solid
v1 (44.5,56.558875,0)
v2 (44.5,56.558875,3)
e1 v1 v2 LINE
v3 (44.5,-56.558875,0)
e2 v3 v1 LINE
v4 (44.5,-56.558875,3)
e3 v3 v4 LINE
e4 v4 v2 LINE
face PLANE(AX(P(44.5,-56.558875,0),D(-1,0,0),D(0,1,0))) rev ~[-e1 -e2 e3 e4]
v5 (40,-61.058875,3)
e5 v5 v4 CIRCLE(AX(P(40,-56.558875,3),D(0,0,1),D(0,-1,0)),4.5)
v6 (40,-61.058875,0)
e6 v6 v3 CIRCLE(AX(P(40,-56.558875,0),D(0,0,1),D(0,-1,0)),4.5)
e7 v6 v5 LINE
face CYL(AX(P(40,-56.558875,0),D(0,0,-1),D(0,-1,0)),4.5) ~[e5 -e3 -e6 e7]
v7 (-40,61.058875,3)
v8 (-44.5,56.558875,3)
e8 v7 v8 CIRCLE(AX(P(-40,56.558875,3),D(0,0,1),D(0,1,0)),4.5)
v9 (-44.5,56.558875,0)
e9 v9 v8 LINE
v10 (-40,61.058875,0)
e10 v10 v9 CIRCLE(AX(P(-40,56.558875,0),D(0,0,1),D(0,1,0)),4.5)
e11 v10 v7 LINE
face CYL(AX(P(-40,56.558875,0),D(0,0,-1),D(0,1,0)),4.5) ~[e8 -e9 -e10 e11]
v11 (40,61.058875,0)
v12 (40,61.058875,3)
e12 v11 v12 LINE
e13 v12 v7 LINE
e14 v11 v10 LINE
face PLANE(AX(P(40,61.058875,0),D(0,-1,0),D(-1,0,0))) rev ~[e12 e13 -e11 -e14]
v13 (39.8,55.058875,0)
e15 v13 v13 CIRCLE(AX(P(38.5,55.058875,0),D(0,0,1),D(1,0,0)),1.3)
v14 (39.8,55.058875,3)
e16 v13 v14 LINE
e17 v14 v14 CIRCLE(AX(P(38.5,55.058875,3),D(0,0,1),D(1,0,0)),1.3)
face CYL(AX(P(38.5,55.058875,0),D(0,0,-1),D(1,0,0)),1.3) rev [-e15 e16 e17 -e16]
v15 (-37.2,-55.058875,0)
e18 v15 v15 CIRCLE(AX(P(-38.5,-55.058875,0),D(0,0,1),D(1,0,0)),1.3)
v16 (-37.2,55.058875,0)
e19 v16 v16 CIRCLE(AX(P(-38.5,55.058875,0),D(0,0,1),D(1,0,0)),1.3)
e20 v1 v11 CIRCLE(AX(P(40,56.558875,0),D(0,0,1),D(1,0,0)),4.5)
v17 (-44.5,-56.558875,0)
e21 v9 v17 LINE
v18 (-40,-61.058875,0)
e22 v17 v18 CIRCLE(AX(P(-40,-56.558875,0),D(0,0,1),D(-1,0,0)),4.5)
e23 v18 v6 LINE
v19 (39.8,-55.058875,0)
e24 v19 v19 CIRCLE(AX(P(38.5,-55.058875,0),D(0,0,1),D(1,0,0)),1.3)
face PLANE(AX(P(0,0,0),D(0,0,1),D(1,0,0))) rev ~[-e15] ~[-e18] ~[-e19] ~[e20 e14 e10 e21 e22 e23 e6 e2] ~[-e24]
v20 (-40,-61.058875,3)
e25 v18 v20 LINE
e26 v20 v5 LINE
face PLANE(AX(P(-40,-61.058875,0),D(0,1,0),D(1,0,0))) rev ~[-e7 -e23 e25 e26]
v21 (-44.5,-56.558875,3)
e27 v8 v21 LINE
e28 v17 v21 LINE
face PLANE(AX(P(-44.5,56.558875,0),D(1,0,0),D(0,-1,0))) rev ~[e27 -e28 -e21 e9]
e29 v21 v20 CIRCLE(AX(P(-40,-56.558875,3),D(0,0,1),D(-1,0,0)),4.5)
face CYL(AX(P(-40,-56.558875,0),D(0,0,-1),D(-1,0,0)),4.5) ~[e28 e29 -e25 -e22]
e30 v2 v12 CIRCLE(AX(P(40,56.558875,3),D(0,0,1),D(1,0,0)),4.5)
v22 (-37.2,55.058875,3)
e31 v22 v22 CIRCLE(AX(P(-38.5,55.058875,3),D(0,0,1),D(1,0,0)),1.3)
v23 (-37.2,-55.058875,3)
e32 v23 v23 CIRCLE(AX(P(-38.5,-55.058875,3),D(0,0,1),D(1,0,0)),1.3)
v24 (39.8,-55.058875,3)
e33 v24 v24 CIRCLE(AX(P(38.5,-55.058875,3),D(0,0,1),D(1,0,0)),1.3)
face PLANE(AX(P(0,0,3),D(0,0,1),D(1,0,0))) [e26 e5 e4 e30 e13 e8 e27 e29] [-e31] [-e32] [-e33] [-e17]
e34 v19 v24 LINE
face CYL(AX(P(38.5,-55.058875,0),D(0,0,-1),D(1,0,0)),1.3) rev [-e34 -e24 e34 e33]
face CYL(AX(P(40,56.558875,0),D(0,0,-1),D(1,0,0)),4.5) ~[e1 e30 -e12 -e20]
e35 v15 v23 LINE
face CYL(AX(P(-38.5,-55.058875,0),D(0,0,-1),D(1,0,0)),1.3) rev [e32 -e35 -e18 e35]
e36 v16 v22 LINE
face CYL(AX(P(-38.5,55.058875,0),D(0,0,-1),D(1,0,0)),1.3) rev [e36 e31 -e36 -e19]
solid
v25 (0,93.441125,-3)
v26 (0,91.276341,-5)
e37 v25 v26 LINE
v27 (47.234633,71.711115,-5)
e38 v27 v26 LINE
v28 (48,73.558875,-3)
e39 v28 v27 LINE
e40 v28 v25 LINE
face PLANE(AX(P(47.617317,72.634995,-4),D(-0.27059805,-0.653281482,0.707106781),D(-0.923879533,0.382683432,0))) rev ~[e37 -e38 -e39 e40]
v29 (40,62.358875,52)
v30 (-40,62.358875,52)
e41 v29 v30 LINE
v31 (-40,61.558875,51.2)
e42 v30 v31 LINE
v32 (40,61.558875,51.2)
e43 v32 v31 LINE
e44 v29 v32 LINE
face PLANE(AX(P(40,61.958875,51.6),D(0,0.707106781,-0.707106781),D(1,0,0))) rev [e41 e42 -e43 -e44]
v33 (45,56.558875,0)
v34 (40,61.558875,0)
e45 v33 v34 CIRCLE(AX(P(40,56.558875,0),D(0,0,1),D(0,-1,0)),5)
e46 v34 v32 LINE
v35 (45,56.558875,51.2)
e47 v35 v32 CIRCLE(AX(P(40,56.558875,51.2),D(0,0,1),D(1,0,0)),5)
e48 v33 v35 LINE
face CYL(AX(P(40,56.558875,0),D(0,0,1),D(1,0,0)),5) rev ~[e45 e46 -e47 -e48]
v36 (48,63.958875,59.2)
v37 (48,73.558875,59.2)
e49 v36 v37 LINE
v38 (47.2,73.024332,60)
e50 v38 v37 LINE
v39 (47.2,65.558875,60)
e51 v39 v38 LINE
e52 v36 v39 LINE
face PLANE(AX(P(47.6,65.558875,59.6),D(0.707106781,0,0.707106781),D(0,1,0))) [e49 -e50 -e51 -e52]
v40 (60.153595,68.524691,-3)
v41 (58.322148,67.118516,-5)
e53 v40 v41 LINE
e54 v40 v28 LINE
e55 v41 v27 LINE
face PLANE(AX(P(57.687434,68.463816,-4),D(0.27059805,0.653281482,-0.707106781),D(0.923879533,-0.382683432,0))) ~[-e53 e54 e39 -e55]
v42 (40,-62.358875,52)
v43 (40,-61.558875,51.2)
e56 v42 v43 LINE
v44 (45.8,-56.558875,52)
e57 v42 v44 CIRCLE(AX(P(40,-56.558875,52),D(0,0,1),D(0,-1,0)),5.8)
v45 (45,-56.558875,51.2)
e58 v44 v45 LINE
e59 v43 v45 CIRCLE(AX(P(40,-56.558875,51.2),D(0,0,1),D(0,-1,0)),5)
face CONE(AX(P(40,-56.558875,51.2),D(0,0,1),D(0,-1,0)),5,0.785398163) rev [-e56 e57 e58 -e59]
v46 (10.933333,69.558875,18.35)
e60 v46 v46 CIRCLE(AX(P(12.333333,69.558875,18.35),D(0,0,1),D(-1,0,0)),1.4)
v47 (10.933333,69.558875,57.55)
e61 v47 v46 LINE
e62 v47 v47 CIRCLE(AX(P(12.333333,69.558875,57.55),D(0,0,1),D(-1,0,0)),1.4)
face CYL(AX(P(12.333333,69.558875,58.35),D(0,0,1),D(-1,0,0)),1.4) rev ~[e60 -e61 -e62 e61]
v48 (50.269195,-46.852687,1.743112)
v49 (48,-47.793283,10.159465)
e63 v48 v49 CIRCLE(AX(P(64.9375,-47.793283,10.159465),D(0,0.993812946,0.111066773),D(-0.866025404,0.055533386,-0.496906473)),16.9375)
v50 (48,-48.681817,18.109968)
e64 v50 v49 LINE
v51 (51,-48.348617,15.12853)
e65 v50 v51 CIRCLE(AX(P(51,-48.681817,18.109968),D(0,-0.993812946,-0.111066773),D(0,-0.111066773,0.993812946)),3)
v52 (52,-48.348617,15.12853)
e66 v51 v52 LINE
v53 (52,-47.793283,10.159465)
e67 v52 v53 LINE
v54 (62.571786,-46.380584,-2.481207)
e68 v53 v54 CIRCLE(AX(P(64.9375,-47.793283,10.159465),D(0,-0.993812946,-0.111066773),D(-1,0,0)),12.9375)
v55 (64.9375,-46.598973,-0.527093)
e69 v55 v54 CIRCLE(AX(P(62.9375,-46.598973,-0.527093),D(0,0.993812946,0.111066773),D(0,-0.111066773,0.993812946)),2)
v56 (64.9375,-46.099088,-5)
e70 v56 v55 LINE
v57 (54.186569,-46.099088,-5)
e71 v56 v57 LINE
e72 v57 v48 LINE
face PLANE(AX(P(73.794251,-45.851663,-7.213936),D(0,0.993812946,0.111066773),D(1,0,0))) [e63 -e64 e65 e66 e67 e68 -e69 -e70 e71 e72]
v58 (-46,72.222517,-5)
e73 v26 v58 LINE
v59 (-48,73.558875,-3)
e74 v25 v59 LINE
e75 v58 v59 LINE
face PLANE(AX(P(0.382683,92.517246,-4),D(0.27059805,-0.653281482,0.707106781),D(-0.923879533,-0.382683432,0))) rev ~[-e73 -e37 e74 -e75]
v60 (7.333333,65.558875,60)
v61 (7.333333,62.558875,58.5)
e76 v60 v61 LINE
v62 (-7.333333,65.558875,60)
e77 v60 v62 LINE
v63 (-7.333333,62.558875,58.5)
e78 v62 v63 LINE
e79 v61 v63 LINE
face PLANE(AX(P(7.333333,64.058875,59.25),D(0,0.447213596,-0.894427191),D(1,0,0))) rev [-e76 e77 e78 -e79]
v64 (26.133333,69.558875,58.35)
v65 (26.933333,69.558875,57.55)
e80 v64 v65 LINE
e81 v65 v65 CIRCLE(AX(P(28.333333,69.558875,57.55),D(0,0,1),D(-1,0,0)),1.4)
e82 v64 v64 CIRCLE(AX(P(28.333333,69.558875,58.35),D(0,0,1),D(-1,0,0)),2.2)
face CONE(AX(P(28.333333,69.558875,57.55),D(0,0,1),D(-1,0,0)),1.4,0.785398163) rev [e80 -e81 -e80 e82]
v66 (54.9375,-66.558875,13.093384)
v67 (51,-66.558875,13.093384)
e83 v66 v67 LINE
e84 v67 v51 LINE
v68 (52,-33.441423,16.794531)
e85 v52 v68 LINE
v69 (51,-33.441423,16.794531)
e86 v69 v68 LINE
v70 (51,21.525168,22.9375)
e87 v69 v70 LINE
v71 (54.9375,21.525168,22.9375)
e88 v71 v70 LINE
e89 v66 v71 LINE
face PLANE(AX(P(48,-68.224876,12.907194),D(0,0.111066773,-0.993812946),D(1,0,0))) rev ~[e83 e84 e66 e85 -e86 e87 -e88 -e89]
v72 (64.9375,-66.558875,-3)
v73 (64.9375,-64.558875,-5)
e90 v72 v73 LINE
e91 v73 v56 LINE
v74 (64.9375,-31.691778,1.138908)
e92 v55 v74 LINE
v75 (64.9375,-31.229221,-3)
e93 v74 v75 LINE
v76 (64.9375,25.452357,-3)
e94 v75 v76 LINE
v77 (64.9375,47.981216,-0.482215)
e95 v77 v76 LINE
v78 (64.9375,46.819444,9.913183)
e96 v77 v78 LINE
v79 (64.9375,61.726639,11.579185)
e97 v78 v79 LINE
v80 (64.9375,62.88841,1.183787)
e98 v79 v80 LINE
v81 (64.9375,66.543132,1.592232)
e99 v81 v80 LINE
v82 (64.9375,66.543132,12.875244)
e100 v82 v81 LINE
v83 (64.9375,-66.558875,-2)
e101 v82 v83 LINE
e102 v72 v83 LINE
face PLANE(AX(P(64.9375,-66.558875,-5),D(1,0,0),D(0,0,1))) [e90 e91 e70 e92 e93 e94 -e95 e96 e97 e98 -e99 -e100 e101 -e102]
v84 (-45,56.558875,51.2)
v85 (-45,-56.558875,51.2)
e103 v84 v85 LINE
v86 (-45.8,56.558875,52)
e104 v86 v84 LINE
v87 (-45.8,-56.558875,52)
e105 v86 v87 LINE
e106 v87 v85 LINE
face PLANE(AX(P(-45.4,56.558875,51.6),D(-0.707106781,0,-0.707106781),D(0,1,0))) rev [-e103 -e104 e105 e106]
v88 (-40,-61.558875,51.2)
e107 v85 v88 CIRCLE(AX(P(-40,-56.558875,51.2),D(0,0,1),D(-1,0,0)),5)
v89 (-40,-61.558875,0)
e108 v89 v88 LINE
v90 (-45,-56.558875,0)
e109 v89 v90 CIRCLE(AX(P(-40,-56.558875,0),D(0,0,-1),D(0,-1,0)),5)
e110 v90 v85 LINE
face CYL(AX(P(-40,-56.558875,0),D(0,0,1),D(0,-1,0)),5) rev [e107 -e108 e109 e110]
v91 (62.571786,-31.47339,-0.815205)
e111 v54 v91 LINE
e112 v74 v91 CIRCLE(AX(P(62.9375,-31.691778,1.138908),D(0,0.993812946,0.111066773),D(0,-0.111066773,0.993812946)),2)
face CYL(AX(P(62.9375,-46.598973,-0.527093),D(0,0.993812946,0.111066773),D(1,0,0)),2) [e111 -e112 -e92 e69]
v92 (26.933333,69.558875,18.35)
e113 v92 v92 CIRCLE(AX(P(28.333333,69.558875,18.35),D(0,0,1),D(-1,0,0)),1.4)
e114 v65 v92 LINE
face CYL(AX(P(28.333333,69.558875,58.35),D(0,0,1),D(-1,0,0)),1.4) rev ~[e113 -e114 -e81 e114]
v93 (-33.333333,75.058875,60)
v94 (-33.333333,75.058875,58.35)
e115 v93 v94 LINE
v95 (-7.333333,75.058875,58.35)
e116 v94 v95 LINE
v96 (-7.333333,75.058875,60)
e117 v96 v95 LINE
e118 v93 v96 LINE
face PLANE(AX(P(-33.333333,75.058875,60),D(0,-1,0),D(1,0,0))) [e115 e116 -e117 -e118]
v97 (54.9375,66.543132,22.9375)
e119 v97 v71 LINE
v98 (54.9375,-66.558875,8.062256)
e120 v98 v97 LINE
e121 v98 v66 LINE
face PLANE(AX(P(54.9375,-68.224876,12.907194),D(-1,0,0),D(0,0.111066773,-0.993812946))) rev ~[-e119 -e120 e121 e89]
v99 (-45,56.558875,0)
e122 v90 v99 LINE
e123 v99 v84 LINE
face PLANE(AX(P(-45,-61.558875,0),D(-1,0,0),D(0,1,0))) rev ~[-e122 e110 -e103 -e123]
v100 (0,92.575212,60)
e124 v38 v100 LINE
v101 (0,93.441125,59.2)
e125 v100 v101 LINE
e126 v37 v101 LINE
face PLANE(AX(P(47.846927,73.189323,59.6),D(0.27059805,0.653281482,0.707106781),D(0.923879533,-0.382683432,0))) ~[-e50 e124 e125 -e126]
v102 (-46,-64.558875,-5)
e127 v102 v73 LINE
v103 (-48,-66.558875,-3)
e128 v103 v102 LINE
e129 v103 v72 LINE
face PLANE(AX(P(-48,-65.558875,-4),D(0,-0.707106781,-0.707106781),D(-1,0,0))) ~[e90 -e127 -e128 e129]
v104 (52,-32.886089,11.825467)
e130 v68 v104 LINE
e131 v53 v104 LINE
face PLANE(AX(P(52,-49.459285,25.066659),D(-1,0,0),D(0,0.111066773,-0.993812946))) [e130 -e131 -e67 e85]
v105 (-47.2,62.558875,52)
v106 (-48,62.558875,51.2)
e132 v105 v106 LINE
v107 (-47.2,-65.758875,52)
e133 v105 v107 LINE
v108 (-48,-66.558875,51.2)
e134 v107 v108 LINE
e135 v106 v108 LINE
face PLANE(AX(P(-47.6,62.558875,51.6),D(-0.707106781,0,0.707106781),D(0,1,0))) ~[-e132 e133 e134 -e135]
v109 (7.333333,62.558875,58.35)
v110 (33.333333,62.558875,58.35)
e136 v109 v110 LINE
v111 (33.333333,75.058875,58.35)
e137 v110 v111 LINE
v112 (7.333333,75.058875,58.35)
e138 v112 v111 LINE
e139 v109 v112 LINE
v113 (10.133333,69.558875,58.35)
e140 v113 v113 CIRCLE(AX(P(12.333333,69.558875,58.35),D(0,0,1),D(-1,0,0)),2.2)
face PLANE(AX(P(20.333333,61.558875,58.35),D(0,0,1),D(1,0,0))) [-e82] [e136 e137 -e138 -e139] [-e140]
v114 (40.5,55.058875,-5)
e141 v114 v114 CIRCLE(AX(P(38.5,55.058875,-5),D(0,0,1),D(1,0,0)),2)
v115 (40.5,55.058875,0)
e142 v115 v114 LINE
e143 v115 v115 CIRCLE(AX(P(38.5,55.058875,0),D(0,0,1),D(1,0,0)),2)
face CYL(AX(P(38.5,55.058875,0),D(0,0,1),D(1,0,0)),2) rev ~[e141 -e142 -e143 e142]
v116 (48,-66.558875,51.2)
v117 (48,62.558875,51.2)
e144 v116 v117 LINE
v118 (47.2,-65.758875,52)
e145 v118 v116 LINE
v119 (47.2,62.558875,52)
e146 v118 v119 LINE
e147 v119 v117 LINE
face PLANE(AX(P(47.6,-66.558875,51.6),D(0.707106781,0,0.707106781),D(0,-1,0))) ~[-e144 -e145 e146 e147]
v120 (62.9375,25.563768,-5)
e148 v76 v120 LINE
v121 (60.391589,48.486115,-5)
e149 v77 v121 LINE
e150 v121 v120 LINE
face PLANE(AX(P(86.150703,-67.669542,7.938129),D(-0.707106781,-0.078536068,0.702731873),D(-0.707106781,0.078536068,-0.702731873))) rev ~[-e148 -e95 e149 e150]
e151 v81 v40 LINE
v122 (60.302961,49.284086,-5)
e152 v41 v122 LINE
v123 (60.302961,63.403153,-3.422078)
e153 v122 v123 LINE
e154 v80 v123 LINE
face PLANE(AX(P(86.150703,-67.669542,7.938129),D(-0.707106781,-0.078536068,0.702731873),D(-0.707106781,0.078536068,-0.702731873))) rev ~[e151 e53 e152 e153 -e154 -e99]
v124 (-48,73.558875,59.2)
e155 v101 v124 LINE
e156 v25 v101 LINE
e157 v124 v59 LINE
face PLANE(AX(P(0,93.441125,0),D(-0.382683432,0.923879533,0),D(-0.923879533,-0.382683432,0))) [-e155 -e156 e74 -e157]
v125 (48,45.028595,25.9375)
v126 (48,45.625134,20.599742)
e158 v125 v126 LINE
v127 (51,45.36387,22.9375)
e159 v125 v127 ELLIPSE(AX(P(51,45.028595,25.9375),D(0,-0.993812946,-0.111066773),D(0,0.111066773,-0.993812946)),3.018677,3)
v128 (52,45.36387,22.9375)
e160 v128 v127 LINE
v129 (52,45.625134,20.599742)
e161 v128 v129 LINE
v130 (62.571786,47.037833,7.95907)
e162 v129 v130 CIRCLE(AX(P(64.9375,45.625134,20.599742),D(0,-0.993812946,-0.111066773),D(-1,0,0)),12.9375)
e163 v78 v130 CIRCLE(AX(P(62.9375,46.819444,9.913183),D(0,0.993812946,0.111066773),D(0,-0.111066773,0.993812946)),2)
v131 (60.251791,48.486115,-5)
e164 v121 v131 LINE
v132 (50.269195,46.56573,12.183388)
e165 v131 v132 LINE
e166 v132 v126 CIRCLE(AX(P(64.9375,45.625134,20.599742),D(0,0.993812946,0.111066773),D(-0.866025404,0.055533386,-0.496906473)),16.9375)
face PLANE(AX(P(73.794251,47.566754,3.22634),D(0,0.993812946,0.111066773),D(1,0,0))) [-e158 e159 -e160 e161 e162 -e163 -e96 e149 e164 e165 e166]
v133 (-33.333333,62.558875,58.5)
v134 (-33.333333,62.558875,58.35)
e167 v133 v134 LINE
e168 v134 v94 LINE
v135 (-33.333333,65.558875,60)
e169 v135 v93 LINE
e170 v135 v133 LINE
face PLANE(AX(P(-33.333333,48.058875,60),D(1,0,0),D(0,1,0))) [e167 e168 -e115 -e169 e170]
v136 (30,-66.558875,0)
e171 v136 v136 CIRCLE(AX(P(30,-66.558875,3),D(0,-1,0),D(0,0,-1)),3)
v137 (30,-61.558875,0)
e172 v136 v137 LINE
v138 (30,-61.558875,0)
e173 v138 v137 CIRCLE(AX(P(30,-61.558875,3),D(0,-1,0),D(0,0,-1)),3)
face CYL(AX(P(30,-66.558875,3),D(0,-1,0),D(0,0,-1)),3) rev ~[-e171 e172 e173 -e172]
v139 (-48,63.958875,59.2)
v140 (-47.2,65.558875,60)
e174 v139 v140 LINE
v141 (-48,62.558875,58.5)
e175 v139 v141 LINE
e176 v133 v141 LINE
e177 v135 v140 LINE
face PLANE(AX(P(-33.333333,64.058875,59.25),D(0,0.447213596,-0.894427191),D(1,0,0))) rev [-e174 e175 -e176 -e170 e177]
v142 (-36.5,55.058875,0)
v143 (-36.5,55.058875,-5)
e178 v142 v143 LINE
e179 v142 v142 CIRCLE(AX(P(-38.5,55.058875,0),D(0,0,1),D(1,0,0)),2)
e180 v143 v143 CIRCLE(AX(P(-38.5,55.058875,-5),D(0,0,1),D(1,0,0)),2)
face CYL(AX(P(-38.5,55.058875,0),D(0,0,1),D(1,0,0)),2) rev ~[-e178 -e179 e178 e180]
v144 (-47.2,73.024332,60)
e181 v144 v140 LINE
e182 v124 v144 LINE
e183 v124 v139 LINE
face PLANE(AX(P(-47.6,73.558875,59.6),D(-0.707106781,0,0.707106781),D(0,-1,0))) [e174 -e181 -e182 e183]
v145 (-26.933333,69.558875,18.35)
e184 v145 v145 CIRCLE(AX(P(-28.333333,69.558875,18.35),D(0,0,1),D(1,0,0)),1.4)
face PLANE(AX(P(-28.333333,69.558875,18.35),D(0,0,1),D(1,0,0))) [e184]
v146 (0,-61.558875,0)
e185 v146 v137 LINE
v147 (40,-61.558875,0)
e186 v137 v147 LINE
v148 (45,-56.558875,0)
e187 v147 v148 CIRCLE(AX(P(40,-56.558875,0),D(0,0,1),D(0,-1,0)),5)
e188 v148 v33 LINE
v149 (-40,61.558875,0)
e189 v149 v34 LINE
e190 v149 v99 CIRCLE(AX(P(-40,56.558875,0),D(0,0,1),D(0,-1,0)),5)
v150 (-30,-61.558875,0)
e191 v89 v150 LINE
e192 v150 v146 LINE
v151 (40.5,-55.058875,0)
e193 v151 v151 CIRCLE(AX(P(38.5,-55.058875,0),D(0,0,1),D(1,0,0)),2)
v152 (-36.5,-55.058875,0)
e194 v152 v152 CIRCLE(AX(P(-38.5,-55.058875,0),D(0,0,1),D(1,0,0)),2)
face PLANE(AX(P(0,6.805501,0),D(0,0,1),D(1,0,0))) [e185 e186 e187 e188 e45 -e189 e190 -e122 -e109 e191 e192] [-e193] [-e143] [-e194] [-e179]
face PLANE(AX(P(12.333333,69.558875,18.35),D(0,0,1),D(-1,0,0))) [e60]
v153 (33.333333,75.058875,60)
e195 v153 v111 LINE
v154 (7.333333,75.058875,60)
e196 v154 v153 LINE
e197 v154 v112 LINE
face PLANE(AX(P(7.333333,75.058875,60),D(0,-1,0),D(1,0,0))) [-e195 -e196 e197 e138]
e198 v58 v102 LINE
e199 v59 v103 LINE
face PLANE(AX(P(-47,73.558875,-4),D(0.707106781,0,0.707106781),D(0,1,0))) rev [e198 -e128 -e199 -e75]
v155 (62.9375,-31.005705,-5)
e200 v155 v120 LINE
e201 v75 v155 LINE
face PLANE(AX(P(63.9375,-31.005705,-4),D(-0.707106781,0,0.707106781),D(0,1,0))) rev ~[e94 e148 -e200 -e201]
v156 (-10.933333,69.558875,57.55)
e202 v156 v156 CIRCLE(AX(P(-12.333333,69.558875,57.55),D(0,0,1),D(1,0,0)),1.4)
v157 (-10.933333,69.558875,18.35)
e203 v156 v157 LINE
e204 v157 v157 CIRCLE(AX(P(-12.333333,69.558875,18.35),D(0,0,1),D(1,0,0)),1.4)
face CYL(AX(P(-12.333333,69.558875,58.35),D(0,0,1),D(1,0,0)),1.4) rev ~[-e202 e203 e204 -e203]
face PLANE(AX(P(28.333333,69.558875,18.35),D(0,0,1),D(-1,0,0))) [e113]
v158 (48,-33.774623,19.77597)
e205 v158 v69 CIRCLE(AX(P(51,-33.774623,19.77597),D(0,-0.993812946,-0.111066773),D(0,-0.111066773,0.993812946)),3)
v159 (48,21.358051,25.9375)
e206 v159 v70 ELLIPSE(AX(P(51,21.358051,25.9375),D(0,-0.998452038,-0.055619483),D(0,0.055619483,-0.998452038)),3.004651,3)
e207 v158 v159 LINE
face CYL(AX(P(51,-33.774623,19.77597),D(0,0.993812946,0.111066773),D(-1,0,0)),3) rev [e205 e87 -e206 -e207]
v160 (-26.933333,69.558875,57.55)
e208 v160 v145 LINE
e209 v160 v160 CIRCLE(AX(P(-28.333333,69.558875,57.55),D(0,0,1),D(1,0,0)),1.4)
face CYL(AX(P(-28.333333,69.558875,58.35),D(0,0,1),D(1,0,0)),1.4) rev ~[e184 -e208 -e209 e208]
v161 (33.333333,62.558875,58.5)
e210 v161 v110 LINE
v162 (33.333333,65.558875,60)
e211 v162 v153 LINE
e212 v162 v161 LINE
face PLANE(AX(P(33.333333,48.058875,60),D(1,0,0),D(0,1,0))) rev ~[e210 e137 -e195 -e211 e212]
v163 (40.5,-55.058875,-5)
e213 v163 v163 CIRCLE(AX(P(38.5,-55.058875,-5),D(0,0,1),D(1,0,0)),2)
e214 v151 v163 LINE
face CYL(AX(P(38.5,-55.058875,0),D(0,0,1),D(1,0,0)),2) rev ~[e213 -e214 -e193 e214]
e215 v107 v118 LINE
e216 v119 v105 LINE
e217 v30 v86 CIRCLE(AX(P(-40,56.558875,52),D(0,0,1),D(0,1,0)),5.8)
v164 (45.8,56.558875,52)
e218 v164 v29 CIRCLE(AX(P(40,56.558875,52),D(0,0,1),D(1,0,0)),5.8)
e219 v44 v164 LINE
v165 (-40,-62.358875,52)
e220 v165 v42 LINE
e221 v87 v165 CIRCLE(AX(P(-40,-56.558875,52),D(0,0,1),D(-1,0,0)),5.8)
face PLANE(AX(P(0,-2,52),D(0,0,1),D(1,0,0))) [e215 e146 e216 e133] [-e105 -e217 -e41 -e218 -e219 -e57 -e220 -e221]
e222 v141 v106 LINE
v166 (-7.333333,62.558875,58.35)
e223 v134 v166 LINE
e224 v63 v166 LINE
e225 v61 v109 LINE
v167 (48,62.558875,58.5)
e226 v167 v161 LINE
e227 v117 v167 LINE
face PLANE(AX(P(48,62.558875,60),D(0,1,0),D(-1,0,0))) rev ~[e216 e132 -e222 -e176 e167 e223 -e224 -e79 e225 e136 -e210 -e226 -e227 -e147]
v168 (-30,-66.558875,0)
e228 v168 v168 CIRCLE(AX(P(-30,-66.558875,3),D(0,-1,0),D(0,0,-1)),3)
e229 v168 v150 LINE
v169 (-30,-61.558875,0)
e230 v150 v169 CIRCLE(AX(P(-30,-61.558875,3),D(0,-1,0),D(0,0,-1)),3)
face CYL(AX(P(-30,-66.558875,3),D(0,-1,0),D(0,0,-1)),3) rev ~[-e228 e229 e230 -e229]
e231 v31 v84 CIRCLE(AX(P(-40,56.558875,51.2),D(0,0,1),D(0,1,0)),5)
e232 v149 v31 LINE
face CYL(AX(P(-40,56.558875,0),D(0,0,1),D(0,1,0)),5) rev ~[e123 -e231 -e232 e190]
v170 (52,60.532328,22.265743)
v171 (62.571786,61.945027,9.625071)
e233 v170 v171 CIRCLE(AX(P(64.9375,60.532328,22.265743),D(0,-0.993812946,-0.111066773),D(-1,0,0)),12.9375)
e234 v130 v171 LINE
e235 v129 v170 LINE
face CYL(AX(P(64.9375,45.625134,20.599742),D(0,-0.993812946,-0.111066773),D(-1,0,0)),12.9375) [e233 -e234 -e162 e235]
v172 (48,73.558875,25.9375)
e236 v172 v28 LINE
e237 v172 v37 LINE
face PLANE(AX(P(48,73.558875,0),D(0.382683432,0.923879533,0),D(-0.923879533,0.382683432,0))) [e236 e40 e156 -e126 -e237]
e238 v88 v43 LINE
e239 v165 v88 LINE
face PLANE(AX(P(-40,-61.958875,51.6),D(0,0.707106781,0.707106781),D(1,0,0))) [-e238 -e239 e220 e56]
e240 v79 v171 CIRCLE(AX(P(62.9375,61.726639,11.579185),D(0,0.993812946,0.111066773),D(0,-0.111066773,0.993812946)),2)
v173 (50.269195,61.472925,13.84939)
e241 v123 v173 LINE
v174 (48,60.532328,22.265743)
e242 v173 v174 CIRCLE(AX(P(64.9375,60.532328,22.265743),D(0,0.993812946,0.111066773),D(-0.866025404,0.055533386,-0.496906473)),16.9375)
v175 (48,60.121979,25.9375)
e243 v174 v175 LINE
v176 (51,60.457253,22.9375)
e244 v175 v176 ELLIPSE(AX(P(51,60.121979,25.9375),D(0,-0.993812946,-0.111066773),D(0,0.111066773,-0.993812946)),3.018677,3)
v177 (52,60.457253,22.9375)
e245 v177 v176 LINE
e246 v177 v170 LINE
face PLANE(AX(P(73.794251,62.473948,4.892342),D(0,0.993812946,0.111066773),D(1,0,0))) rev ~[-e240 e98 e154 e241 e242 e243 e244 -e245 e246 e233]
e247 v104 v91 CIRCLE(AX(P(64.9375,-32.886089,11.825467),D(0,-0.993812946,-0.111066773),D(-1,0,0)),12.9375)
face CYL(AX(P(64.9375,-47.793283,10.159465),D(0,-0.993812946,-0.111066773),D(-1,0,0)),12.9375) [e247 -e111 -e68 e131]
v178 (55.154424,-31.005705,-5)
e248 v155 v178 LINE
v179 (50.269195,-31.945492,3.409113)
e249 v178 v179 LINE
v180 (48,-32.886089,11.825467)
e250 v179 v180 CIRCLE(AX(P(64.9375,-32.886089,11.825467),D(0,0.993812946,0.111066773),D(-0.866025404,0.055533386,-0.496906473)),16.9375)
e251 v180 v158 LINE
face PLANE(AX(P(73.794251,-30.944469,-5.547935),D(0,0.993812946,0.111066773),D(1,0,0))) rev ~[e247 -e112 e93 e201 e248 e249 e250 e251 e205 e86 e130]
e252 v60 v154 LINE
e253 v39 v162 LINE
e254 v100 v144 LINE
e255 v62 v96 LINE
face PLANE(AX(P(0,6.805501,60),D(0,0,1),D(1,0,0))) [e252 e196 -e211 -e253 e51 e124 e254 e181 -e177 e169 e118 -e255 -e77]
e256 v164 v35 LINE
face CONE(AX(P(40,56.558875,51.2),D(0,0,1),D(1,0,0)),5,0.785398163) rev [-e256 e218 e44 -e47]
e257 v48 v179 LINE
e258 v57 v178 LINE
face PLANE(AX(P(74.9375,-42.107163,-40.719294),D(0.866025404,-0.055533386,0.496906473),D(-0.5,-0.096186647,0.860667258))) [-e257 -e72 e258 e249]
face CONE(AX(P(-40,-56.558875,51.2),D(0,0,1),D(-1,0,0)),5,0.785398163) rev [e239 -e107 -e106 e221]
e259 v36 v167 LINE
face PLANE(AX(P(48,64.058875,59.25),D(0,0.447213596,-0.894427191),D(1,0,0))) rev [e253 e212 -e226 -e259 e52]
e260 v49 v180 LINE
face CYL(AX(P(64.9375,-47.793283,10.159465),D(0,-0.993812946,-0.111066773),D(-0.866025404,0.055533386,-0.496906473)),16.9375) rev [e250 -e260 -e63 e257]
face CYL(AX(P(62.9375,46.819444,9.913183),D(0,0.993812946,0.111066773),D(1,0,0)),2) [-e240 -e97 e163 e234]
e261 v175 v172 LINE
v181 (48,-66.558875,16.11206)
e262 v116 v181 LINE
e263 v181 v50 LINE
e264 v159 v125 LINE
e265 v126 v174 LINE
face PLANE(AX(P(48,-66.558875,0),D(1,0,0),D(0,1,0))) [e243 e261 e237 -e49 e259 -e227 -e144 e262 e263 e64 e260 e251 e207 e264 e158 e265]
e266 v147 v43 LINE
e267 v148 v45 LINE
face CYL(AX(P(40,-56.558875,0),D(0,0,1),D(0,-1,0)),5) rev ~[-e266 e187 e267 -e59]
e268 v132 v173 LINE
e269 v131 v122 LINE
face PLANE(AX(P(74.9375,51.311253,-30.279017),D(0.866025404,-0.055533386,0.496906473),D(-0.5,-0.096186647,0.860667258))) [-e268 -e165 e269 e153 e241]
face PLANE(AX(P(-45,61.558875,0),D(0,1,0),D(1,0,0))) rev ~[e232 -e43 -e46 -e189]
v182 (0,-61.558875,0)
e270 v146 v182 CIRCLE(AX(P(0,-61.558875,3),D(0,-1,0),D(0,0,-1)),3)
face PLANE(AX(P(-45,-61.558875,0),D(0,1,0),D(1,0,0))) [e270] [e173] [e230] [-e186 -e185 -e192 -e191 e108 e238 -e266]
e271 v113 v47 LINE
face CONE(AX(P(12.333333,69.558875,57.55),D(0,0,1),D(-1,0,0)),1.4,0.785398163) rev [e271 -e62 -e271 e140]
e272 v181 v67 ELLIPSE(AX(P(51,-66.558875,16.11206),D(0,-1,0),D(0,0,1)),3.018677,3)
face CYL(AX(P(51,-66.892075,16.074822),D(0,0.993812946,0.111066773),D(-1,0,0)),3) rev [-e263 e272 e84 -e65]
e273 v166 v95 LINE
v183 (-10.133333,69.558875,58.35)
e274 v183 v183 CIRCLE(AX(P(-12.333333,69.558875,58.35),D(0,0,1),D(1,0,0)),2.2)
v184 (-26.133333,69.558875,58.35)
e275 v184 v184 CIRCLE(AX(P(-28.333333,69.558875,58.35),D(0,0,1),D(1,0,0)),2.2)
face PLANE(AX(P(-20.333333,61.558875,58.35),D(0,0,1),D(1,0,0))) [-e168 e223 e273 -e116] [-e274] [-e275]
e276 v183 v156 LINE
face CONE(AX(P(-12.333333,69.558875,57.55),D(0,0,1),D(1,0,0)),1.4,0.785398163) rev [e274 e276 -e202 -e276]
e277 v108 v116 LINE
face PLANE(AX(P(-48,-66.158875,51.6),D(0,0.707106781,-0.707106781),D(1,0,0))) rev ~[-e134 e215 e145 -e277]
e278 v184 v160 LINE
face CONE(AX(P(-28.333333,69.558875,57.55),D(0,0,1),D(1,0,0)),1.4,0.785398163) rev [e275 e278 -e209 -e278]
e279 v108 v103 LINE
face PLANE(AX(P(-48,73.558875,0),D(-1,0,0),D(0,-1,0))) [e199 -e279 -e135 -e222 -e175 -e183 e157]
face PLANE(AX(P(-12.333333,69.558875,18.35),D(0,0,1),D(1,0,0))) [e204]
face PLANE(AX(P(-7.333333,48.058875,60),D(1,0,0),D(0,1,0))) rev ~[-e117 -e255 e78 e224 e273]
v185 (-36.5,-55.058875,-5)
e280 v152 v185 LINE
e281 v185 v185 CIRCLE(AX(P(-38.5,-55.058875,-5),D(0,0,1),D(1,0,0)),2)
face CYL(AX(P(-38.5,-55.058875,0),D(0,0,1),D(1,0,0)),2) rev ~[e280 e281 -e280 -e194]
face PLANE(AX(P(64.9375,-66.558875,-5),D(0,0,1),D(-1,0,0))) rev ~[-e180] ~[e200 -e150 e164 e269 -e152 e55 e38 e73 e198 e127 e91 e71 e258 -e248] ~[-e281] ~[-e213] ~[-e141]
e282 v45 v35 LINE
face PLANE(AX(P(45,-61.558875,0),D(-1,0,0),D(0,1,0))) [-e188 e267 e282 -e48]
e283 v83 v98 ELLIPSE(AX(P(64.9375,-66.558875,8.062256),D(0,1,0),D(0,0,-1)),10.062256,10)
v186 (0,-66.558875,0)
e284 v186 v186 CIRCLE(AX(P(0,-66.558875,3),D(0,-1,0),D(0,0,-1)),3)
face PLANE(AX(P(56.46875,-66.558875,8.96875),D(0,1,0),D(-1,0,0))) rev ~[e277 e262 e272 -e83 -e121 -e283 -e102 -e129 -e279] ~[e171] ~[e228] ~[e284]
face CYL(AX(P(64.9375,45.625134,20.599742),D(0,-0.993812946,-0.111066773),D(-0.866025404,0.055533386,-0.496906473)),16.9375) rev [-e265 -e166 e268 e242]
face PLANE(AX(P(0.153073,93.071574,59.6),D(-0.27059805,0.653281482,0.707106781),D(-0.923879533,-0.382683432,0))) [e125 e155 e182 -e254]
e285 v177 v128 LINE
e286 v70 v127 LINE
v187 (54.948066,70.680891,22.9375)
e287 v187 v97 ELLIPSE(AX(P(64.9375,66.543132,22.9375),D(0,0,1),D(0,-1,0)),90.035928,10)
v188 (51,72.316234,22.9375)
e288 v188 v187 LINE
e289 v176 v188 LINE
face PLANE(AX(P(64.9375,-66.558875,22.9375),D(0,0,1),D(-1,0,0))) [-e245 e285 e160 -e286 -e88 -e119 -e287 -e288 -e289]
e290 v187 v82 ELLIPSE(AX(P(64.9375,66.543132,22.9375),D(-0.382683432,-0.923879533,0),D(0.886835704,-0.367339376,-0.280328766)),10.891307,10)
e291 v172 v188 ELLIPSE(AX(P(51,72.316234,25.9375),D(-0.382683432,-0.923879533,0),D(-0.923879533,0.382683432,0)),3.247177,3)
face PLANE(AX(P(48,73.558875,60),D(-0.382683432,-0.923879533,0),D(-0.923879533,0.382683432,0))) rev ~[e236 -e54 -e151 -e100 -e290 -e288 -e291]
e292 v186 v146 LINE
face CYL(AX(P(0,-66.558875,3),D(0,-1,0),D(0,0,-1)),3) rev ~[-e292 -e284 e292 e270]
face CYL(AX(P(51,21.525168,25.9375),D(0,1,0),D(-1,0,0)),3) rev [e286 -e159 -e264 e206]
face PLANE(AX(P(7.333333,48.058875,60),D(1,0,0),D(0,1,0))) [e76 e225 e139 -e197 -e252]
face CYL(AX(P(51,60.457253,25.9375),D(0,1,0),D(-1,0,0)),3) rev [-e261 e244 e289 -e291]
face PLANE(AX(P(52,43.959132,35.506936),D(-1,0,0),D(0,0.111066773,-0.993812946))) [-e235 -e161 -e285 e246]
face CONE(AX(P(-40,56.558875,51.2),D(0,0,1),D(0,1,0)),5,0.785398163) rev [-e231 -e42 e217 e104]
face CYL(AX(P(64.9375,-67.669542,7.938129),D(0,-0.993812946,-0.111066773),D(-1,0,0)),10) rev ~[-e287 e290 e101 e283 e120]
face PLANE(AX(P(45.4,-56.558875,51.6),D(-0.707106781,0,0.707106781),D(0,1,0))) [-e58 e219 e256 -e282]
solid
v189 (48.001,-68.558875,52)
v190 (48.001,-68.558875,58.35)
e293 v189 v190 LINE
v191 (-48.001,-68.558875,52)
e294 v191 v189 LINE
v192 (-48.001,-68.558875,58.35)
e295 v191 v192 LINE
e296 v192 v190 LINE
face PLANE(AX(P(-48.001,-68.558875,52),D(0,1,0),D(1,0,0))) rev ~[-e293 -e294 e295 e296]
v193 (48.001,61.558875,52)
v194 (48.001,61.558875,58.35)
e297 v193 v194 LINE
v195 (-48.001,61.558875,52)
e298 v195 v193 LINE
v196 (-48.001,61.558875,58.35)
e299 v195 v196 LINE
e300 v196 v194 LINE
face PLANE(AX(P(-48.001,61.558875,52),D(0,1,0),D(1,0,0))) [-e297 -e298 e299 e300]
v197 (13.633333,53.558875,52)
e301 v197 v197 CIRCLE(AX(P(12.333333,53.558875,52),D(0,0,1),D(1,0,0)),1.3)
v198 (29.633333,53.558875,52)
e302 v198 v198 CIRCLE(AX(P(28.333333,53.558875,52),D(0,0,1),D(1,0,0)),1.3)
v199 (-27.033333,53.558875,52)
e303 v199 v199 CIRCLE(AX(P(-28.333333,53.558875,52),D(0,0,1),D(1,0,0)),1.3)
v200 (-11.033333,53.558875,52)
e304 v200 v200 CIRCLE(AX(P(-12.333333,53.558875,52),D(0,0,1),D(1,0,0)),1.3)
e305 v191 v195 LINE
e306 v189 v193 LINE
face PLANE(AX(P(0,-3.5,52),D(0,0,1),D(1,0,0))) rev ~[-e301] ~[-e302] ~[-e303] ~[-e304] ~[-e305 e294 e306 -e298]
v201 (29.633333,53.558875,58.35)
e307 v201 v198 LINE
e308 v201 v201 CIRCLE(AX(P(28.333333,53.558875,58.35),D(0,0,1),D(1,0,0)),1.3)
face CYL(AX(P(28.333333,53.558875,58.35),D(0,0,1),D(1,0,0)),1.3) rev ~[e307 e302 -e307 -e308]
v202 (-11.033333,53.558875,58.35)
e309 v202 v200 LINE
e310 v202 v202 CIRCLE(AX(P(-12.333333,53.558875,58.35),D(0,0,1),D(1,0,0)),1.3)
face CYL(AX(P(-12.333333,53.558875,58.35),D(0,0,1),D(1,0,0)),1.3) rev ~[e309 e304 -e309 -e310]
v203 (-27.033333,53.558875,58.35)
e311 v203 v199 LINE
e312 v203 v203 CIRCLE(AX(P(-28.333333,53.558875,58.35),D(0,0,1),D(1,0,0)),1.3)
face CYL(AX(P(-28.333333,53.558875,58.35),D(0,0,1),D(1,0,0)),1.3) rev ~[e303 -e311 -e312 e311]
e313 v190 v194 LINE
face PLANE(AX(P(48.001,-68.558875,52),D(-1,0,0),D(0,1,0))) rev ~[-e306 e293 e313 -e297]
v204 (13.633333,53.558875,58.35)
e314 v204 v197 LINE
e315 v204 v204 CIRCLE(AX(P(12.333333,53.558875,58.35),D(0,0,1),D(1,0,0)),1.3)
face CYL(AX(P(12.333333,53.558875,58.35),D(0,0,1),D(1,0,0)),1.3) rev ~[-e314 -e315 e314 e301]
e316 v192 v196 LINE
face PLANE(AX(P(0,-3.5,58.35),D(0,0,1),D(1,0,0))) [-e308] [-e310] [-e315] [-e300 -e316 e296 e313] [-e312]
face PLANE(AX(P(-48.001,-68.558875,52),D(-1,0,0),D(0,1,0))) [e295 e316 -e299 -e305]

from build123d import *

# Parameters (mm, degrees)
SKETCH1_W               = 90
SKETCH1_H               = 123.117749006
MAIN_EXTRUDE_DEPTH      = 60
REAR_EXTRUDE_DEPTH      = 5
BOSS_EXTRUDE3_REACH     = 179.494
CUT_EXTRUDE9_DEPTH      = 204.523867214
CUT_EXTRUDE10_DEPTH     = 15
LPATTERN1_COUNT         = 2
LPATTERN1_PITCH         = 94
FILLET2_R               = 3
SKETCH9_R               = 3
INNER_DRAIN_HOLES_DEPTH = 15
CUT_EXTRUDE2_DEPTH      = 8
SKETCH5_W               = 26
SKETCH5_H               = 27
CUT_EXTRUDE3_DEPTH      = 1.65
SKETCH15_R              = 1.4
CUT_EXTRUDE7_DEPTH      = 40
SKETCH12_W              = 96.002
SKETCH12_H              = 130.117749006
BOSS_EXTRUDE5_DEPTH     = 6.35
SKETCH13_R              = 1.3
CUT_EXTRUDE8_DEPTH      = 131.235729892
CHAMFER4_SIZE           = 3
CHAMFER4_SIZE2          = 1.5
CHAMFER7_SIZE           = 0.8
CAVITY_FILLET_R         = 5
SKETCH21_R              = 1.3
BOSS_EXTRUDE10_DEPTH    = 3
SKETCH22_R              = 2
CUT_EXTRUDE11_DEPTH     = 129.639507308
CHAMFER6_SIZE           = 0.8
CHAMFER2_SIZE           = 2
CHAMFER9_SIZE           = 0.8
FILLET3_R               = 2


with BuildPart() as part:
    # Sketch1 → main-extrude (new body)
    with BuildSketch(Plane.XY):
        Polygon((-48, 73.558874503), (-48, -66.558874503), (48, -66.558874503), (48, 73.558874503), (0, 93.441125497), align=None)
        Rectangle(SKETCH1_W, SKETCH1_H, mode=Mode.SUBTRACT)
    extrude(amount=MAIN_EXTRUDE_DEPTH)

    # Sketch2 → rear-extrude (add)
    with BuildSketch(Plane.XY):
        Polygon((48, -66.558874503), (48, 73.558874503), (0, 93.441125497), (-48, 73.558874503), (-48, -66.558874503), align=None)
    extrude(amount=-REAR_EXTRUDE_DEPTH)

    # Boss-Extrude3: up to this plane
    boss_extrude3_end = Plane(origin=(48, 73.558874503, 60), z_dir=(-0.38268343236508395, -0.9238795325112892, 0))
    # Sketch6 → Boss-Extrude3 (add, up to the surface)
    with BuildSketch(Plane.XZ.offset(66.558874503), mode=Mode.PRIVATE) as boss_extrude3_sk1:
        Polygon((48, 22.9375), (53, 22.9375), (57, 22.9375), (64.9375, 22.9375), (64.9375, 15), (64.9375, -5), (48, -5), align=None)
    boss_extrude3_tool1 = split(extrude(boss_extrude3_sk1.sketch, amount=-BOSS_EXTRUDE3_REACH, mode=Mode.PRIVATE), bisect_by=boss_extrude3_end, keep=Keep.BOTH, mode=Mode.PRIVATE)
    add(boss_extrude3_tool1.solids().sort_by_distance((56.46875, -66.558875, 8.96875))[0])

    # Sketch20 → Cut-Extrude9 (cut, through all)
    with BuildSketch(Plane(origin=(64.9375, -67.669542231, 7.938129462), x_dir=(1, 0, 0), z_dir=(0, 0.9938129461744798, 0.11106677278106515))):
        with BuildLine():
            Line((10, 0), (10, -24.56642069))
            Line((10, -24.56642069), (-16.9375, -24.56642069))
            Line((-16.9375, -24.56642069), (-16.9375, -5))
            Line((-16.9375, -5), (-10, -5))
            Line((-10, -5), (-10, 0))
            ThreePointArc((-10, 0), (0, 10), (10, 0))
        make_face()
        Polygon((21.213203436, 0), (-21.213203436, 42.426406871), (21.213203436, 42.426406871), align=None)
    extrude(amount=CUT_EXTRUDE9_DEPTH, mode=Mode.SUBTRACT)

    # Sketch7 → Cut-Extrude10 (cut)
    with BuildSketch(Plane(origin=(64.9375, -47.793283307, 10.159464917), x_dir=(1, 0, 0), z_dir=(0, 0.9938129461744798, 0.11106677278106515))):
        with BuildLine():
            Line((-16.9375, -15), (-12.9375, -15))
            Line((-12.9375, -15), (-12.9375, -5))
            Line((-12.9375, -5), (-12.9375, 0))
            ThreePointArc((-12.9375, 0), (-9.148193982, 9.148193982), (0, 12.9375))
            Line((0, 12.9375), (49.336610553, 12.9375))
            Line((49.336610553, 12.9375), (10, 51.195508076))
            Line((10, 51.195508076), (-14.668305277, 8.46875))
            ThreePointArc((-14.668305277, 8.46875), (-16.360368683, 4.383747576), (-16.9375, 0))
            Line((-16.9375, 0), (-16.9375, -15))
        make_face()
    cut_extrude10 = extrude(amount=CUT_EXTRUDE10_DEPTH, mode=Mode.SUBTRACT)

    # LPattern1: Cut-Extrude10 ×2
    with Locations(*[Vector(0, 0.9938129461744797, 0.11106677278106512) * (i * LPATTERN1_PITCH) for i in range(1, LPATTERN1_COUNT)]):
        add(cut_extrude10, mode=Mode.SUBTRACT)

    # Fillet2
    fillet2_edges = [part.edges().sort_by_distance(p)[0] for p in [
        (48, -57.453745837, 14.110956612),
        (48, 33.444518996, 22.9375),
        (48, 67.008063987, 22.9375),
        (48, -5.95812744, 19.86601562),
    ]]
    fillet(fillet2_edges, radius=FILLET2_R)

    # Sketch9 → inner-drain-holes (cut)
    with BuildSketch(Plane.XZ.offset(66.558874503)):
        with Locations(Location((-30, 3, 0), (0, 0, 270))):
            Circle(SKETCH9_R)
        with Locations(Location((0, 3, 0), (0, 0, 270))):
            Circle(SKETCH9_R)
        with Locations(Location((30, 3, 0), (0, 0, 270))):
            Circle(SKETCH9_R)
    extrude(amount=-INNER_DRAIN_HOLES_DEPTH, mode=Mode.SUBTRACT)

    # Sketch4 → Cut-Extrude2 (cut)
    with BuildSketch(Plane.XY.offset(60)):
        Polygon((-48, 61.558874503), (-48, -66.558874503), (48, -66.558874503), (48, 61.558874503), (48, 62.558874503), (-48, 62.558874503), align=None)
    extrude(amount=-CUT_EXTRUDE2_DEPTH, mode=Mode.SUBTRACT)

    # Sketch5 → Cut-Extrude3 (cut)
    with BuildSketch(Plane.XY.offset(60)):
        with Locations((-20.333333333, 61.558874503)):
            Rectangle(SKETCH5_W, SKETCH5_H)
        with Locations((20.333333333, 61.558874503)):
            Rectangle(SKETCH5_W, SKETCH5_H)
    extrude(amount=-CUT_EXTRUDE3_DEPTH, mode=Mode.SUBTRACT)

    # Sketch15 → Cut-Extrude7 (cut)
    with BuildSketch(Plane.XY.offset(58.35)):
        with Locations((-28.333333333, 69.558874503)):
            Circle(SKETCH15_R)
        with Locations((-12.333333333, 69.558874503)):
            Circle(SKETCH15_R)
        with Locations(Location((28.333333333, 69.558874503, 0), (0, 0, 180))):
            Circle(SKETCH15_R)
        with Locations(Location((12.333333333, 69.558874503, 0), (0, 0, 180))):
            Circle(SKETCH15_R)
    extrude(amount=-CUT_EXTRUDE7_DEPTH, mode=Mode.SUBTRACT)

    # Chamfer4
    chamfer4_edges = [part.edges().sort_by_distance(p)[0] for p in [
        (40.666666667, 62.558874503, 60),
        (0, 62.558874503, 60),
        (-40.666666667, 62.558874503, 60),
    ]]
    chamfer4_side = [part.faces().sort_by_distance(p)[0] for p in [
        (0, 76.208462952, 60),
    ]]
    chamfer(chamfer4_edges, length=CHAMFER4_SIZE, length2=CHAMFER4_SIZE2, reference=chamfer4_side[0])

    # Chamfer7
    chamfer7_edges = [part.edges().sort_by_distance(p)[0] for p in [
        (-29.733333333, 69.558874503, 58.35),
        (13.733333333, 69.558874503, 58.35),
        (29.733333333, 69.558874503, 58.35),
        (-13.733333333, 69.558874503, 58.35),
    ]]
    chamfer(chamfer7_edges, length=CHAMFER7_SIZE)

    # cavity-fillet
    cavity_fillet_edges = [part.edges().sort_by_distance(p)[0] for p in [
        (-45, -61.558874503, 26),
        (45, -61.558874503, 26),
        (-45, 61.558874503, 26),
        (45, 61.558874503, 26),
    ]]
    fillet(cavity_fillet_edges, radius=CAVITY_FILLET_R)

    # Sketch22 → Cut-Extrude11 (cut, through all)
    with BuildSketch(Plane.XY):
        with Locations((-38.5, 55.058874503)):
            Circle(SKETCH22_R)
        with Locations((38.5, 55.058874503)):
            Circle(SKETCH22_R)
        with Locations((-38.5, -55.058874503)):
            Circle(SKETCH22_R)
        with Locations((38.5, -55.058874503)):
            Circle(SKETCH22_R)
    extrude(amount=-CUT_EXTRUDE11_DEPTH, mode=Mode.SUBTRACT)

    # Chamfer6
    chamfer6_edges = [part.edges().sort_by_distance(p)[0] for p in [
        (48, -2, 52),
        (0, -66.558874503, 52),
        (-48, -2, 52),
        (0, -61.558874503, 52),
        (45, 0, 52),
        (-45, 0, 52),
        (0, 61.558874503, 52),
        (43.535533906, -60.094408409, 52),
        (-43.535533906, -60.094408409, 52),
        (43.535533906, 60.094408409, 52),
        (-43.535533906, 60.094408409, 52),
    ]]
    chamfer(chamfer6_edges, length=CHAMFER6_SIZE)

    # Chamfer2
    chamfer2_edges = [part.edges().sort_by_distance(p)[0] for p in [
        (8.46875, -66.558874503, -5),
        (-48, 3.5, -5),
        (-24, 83.5, -5),
        (64.9375, -11.72456127, -5),
        (29.035058919, 81.414410308, -5),
    ]]
    chamfer(chamfer2_edges, length=CHAMFER2_SIZE)

    # Chamfer9
    chamfer9_edges = [part.edges().sort_by_distance(p)[0] for p in [
        (24, 83.5, 60),
        (48, 69.558874503, 60),
        (-24, 83.5, 60),
        (-48, 69.558874503, 60),
    ]]
    chamfer(chamfer9_edges, length=CHAMFER9_SIZE)

    # Fillet3
    fillet3_edges = [part.edges().sort_by_distance(p)[0] for p in [
        (64.9375, -38.902759838, -1.864989278),
        (64.9375, 54.515657102, 8.575287364),
    ]]
    fillet(fillet3_edges, radius=FILLET3_R)


with BuildPart() as body_2:
    # Sketch12 → Boss-Extrude5 (new body)
    with BuildSketch(Plane.XY.offset(52)):
        with Locations((0, -3.5)):
            Rectangle(SKETCH12_W, SKETCH12_H)
    extrude(amount=BOSS_EXTRUDE5_DEPTH)

    # Sketch13 → Cut-Extrude8 (cut, through all)
    with BuildSketch(Plane.XY.offset(58.35)):
        with Locations((-28.333333333, 53.558874503)):
            Circle(SKETCH13_R)
        with Locations((-12.333333333, 53.558874503)):
            Circle(SKETCH13_R)
        with Locations((12.333333333, 53.558874503)):
            Circle(SKETCH13_R)
        with Locations((28.333333333, 53.558874503)):
            Circle(SKETCH13_R)
    extrude(amount=-CUT_EXTRUDE8_DEPTH, mode=Mode.SUBTRACT)


with BuildPart() as body_3:
    # Sketch21 → Boss-Extrude10 (new body)
    with BuildSketch(Plane.XY):
        with BuildLine():
            Line((30, -61.058874503), (40, -61.058874503))
            ThreePointArc((40, -61.058874503), (43.181980515, -59.740855018), (44.5, -56.558874503))
            Line((44.5, -56.558874503), (44.5, 56.558874503))
            ThreePointArc((44.5, 56.558874503), (43.181980515, 59.740855018), (40, 61.058874503))
            Line((40, 61.058874503), (-40, 61.058874503))
            ThreePointArc((-40, 61.058874503), (-43.181980515, 59.740855018), (-44.5, 56.558874503))
            Line((-44.5, 56.558874503), (-44.5, -56.558874503))
            ThreePointArc((-44.5, -56.558874503), (-43.181980515, -59.740855018), (-40, -61.058874503))
            Line((-40, -61.058874503), (-30, -61.058874503))
            Line((-30, -61.058874503), (0, -61.058874503))
            Line((0, -61.058874503), (30, -61.058874503))
        make_face()
        with Locations((-38.5, 55.058874503)):
            Circle(SKETCH21_R, mode=Mode.SUBTRACT)
        with Locations((38.5, 55.058874503)):
            Circle(SKETCH21_R, mode=Mode.SUBTRACT)
        with Locations((-38.5, -55.058874503)):
            Circle(SKETCH21_R, mode=Mode.SUBTRACT)
        with Locations((38.5, -55.058874503)):
            Circle(SKETCH21_R, mode=Mode.SUBTRACT)
    extrude(amount=BOSS_EXTRUDE10_DEPTH)


solid = Compound([part.part, body_2.part, body_3.part])
